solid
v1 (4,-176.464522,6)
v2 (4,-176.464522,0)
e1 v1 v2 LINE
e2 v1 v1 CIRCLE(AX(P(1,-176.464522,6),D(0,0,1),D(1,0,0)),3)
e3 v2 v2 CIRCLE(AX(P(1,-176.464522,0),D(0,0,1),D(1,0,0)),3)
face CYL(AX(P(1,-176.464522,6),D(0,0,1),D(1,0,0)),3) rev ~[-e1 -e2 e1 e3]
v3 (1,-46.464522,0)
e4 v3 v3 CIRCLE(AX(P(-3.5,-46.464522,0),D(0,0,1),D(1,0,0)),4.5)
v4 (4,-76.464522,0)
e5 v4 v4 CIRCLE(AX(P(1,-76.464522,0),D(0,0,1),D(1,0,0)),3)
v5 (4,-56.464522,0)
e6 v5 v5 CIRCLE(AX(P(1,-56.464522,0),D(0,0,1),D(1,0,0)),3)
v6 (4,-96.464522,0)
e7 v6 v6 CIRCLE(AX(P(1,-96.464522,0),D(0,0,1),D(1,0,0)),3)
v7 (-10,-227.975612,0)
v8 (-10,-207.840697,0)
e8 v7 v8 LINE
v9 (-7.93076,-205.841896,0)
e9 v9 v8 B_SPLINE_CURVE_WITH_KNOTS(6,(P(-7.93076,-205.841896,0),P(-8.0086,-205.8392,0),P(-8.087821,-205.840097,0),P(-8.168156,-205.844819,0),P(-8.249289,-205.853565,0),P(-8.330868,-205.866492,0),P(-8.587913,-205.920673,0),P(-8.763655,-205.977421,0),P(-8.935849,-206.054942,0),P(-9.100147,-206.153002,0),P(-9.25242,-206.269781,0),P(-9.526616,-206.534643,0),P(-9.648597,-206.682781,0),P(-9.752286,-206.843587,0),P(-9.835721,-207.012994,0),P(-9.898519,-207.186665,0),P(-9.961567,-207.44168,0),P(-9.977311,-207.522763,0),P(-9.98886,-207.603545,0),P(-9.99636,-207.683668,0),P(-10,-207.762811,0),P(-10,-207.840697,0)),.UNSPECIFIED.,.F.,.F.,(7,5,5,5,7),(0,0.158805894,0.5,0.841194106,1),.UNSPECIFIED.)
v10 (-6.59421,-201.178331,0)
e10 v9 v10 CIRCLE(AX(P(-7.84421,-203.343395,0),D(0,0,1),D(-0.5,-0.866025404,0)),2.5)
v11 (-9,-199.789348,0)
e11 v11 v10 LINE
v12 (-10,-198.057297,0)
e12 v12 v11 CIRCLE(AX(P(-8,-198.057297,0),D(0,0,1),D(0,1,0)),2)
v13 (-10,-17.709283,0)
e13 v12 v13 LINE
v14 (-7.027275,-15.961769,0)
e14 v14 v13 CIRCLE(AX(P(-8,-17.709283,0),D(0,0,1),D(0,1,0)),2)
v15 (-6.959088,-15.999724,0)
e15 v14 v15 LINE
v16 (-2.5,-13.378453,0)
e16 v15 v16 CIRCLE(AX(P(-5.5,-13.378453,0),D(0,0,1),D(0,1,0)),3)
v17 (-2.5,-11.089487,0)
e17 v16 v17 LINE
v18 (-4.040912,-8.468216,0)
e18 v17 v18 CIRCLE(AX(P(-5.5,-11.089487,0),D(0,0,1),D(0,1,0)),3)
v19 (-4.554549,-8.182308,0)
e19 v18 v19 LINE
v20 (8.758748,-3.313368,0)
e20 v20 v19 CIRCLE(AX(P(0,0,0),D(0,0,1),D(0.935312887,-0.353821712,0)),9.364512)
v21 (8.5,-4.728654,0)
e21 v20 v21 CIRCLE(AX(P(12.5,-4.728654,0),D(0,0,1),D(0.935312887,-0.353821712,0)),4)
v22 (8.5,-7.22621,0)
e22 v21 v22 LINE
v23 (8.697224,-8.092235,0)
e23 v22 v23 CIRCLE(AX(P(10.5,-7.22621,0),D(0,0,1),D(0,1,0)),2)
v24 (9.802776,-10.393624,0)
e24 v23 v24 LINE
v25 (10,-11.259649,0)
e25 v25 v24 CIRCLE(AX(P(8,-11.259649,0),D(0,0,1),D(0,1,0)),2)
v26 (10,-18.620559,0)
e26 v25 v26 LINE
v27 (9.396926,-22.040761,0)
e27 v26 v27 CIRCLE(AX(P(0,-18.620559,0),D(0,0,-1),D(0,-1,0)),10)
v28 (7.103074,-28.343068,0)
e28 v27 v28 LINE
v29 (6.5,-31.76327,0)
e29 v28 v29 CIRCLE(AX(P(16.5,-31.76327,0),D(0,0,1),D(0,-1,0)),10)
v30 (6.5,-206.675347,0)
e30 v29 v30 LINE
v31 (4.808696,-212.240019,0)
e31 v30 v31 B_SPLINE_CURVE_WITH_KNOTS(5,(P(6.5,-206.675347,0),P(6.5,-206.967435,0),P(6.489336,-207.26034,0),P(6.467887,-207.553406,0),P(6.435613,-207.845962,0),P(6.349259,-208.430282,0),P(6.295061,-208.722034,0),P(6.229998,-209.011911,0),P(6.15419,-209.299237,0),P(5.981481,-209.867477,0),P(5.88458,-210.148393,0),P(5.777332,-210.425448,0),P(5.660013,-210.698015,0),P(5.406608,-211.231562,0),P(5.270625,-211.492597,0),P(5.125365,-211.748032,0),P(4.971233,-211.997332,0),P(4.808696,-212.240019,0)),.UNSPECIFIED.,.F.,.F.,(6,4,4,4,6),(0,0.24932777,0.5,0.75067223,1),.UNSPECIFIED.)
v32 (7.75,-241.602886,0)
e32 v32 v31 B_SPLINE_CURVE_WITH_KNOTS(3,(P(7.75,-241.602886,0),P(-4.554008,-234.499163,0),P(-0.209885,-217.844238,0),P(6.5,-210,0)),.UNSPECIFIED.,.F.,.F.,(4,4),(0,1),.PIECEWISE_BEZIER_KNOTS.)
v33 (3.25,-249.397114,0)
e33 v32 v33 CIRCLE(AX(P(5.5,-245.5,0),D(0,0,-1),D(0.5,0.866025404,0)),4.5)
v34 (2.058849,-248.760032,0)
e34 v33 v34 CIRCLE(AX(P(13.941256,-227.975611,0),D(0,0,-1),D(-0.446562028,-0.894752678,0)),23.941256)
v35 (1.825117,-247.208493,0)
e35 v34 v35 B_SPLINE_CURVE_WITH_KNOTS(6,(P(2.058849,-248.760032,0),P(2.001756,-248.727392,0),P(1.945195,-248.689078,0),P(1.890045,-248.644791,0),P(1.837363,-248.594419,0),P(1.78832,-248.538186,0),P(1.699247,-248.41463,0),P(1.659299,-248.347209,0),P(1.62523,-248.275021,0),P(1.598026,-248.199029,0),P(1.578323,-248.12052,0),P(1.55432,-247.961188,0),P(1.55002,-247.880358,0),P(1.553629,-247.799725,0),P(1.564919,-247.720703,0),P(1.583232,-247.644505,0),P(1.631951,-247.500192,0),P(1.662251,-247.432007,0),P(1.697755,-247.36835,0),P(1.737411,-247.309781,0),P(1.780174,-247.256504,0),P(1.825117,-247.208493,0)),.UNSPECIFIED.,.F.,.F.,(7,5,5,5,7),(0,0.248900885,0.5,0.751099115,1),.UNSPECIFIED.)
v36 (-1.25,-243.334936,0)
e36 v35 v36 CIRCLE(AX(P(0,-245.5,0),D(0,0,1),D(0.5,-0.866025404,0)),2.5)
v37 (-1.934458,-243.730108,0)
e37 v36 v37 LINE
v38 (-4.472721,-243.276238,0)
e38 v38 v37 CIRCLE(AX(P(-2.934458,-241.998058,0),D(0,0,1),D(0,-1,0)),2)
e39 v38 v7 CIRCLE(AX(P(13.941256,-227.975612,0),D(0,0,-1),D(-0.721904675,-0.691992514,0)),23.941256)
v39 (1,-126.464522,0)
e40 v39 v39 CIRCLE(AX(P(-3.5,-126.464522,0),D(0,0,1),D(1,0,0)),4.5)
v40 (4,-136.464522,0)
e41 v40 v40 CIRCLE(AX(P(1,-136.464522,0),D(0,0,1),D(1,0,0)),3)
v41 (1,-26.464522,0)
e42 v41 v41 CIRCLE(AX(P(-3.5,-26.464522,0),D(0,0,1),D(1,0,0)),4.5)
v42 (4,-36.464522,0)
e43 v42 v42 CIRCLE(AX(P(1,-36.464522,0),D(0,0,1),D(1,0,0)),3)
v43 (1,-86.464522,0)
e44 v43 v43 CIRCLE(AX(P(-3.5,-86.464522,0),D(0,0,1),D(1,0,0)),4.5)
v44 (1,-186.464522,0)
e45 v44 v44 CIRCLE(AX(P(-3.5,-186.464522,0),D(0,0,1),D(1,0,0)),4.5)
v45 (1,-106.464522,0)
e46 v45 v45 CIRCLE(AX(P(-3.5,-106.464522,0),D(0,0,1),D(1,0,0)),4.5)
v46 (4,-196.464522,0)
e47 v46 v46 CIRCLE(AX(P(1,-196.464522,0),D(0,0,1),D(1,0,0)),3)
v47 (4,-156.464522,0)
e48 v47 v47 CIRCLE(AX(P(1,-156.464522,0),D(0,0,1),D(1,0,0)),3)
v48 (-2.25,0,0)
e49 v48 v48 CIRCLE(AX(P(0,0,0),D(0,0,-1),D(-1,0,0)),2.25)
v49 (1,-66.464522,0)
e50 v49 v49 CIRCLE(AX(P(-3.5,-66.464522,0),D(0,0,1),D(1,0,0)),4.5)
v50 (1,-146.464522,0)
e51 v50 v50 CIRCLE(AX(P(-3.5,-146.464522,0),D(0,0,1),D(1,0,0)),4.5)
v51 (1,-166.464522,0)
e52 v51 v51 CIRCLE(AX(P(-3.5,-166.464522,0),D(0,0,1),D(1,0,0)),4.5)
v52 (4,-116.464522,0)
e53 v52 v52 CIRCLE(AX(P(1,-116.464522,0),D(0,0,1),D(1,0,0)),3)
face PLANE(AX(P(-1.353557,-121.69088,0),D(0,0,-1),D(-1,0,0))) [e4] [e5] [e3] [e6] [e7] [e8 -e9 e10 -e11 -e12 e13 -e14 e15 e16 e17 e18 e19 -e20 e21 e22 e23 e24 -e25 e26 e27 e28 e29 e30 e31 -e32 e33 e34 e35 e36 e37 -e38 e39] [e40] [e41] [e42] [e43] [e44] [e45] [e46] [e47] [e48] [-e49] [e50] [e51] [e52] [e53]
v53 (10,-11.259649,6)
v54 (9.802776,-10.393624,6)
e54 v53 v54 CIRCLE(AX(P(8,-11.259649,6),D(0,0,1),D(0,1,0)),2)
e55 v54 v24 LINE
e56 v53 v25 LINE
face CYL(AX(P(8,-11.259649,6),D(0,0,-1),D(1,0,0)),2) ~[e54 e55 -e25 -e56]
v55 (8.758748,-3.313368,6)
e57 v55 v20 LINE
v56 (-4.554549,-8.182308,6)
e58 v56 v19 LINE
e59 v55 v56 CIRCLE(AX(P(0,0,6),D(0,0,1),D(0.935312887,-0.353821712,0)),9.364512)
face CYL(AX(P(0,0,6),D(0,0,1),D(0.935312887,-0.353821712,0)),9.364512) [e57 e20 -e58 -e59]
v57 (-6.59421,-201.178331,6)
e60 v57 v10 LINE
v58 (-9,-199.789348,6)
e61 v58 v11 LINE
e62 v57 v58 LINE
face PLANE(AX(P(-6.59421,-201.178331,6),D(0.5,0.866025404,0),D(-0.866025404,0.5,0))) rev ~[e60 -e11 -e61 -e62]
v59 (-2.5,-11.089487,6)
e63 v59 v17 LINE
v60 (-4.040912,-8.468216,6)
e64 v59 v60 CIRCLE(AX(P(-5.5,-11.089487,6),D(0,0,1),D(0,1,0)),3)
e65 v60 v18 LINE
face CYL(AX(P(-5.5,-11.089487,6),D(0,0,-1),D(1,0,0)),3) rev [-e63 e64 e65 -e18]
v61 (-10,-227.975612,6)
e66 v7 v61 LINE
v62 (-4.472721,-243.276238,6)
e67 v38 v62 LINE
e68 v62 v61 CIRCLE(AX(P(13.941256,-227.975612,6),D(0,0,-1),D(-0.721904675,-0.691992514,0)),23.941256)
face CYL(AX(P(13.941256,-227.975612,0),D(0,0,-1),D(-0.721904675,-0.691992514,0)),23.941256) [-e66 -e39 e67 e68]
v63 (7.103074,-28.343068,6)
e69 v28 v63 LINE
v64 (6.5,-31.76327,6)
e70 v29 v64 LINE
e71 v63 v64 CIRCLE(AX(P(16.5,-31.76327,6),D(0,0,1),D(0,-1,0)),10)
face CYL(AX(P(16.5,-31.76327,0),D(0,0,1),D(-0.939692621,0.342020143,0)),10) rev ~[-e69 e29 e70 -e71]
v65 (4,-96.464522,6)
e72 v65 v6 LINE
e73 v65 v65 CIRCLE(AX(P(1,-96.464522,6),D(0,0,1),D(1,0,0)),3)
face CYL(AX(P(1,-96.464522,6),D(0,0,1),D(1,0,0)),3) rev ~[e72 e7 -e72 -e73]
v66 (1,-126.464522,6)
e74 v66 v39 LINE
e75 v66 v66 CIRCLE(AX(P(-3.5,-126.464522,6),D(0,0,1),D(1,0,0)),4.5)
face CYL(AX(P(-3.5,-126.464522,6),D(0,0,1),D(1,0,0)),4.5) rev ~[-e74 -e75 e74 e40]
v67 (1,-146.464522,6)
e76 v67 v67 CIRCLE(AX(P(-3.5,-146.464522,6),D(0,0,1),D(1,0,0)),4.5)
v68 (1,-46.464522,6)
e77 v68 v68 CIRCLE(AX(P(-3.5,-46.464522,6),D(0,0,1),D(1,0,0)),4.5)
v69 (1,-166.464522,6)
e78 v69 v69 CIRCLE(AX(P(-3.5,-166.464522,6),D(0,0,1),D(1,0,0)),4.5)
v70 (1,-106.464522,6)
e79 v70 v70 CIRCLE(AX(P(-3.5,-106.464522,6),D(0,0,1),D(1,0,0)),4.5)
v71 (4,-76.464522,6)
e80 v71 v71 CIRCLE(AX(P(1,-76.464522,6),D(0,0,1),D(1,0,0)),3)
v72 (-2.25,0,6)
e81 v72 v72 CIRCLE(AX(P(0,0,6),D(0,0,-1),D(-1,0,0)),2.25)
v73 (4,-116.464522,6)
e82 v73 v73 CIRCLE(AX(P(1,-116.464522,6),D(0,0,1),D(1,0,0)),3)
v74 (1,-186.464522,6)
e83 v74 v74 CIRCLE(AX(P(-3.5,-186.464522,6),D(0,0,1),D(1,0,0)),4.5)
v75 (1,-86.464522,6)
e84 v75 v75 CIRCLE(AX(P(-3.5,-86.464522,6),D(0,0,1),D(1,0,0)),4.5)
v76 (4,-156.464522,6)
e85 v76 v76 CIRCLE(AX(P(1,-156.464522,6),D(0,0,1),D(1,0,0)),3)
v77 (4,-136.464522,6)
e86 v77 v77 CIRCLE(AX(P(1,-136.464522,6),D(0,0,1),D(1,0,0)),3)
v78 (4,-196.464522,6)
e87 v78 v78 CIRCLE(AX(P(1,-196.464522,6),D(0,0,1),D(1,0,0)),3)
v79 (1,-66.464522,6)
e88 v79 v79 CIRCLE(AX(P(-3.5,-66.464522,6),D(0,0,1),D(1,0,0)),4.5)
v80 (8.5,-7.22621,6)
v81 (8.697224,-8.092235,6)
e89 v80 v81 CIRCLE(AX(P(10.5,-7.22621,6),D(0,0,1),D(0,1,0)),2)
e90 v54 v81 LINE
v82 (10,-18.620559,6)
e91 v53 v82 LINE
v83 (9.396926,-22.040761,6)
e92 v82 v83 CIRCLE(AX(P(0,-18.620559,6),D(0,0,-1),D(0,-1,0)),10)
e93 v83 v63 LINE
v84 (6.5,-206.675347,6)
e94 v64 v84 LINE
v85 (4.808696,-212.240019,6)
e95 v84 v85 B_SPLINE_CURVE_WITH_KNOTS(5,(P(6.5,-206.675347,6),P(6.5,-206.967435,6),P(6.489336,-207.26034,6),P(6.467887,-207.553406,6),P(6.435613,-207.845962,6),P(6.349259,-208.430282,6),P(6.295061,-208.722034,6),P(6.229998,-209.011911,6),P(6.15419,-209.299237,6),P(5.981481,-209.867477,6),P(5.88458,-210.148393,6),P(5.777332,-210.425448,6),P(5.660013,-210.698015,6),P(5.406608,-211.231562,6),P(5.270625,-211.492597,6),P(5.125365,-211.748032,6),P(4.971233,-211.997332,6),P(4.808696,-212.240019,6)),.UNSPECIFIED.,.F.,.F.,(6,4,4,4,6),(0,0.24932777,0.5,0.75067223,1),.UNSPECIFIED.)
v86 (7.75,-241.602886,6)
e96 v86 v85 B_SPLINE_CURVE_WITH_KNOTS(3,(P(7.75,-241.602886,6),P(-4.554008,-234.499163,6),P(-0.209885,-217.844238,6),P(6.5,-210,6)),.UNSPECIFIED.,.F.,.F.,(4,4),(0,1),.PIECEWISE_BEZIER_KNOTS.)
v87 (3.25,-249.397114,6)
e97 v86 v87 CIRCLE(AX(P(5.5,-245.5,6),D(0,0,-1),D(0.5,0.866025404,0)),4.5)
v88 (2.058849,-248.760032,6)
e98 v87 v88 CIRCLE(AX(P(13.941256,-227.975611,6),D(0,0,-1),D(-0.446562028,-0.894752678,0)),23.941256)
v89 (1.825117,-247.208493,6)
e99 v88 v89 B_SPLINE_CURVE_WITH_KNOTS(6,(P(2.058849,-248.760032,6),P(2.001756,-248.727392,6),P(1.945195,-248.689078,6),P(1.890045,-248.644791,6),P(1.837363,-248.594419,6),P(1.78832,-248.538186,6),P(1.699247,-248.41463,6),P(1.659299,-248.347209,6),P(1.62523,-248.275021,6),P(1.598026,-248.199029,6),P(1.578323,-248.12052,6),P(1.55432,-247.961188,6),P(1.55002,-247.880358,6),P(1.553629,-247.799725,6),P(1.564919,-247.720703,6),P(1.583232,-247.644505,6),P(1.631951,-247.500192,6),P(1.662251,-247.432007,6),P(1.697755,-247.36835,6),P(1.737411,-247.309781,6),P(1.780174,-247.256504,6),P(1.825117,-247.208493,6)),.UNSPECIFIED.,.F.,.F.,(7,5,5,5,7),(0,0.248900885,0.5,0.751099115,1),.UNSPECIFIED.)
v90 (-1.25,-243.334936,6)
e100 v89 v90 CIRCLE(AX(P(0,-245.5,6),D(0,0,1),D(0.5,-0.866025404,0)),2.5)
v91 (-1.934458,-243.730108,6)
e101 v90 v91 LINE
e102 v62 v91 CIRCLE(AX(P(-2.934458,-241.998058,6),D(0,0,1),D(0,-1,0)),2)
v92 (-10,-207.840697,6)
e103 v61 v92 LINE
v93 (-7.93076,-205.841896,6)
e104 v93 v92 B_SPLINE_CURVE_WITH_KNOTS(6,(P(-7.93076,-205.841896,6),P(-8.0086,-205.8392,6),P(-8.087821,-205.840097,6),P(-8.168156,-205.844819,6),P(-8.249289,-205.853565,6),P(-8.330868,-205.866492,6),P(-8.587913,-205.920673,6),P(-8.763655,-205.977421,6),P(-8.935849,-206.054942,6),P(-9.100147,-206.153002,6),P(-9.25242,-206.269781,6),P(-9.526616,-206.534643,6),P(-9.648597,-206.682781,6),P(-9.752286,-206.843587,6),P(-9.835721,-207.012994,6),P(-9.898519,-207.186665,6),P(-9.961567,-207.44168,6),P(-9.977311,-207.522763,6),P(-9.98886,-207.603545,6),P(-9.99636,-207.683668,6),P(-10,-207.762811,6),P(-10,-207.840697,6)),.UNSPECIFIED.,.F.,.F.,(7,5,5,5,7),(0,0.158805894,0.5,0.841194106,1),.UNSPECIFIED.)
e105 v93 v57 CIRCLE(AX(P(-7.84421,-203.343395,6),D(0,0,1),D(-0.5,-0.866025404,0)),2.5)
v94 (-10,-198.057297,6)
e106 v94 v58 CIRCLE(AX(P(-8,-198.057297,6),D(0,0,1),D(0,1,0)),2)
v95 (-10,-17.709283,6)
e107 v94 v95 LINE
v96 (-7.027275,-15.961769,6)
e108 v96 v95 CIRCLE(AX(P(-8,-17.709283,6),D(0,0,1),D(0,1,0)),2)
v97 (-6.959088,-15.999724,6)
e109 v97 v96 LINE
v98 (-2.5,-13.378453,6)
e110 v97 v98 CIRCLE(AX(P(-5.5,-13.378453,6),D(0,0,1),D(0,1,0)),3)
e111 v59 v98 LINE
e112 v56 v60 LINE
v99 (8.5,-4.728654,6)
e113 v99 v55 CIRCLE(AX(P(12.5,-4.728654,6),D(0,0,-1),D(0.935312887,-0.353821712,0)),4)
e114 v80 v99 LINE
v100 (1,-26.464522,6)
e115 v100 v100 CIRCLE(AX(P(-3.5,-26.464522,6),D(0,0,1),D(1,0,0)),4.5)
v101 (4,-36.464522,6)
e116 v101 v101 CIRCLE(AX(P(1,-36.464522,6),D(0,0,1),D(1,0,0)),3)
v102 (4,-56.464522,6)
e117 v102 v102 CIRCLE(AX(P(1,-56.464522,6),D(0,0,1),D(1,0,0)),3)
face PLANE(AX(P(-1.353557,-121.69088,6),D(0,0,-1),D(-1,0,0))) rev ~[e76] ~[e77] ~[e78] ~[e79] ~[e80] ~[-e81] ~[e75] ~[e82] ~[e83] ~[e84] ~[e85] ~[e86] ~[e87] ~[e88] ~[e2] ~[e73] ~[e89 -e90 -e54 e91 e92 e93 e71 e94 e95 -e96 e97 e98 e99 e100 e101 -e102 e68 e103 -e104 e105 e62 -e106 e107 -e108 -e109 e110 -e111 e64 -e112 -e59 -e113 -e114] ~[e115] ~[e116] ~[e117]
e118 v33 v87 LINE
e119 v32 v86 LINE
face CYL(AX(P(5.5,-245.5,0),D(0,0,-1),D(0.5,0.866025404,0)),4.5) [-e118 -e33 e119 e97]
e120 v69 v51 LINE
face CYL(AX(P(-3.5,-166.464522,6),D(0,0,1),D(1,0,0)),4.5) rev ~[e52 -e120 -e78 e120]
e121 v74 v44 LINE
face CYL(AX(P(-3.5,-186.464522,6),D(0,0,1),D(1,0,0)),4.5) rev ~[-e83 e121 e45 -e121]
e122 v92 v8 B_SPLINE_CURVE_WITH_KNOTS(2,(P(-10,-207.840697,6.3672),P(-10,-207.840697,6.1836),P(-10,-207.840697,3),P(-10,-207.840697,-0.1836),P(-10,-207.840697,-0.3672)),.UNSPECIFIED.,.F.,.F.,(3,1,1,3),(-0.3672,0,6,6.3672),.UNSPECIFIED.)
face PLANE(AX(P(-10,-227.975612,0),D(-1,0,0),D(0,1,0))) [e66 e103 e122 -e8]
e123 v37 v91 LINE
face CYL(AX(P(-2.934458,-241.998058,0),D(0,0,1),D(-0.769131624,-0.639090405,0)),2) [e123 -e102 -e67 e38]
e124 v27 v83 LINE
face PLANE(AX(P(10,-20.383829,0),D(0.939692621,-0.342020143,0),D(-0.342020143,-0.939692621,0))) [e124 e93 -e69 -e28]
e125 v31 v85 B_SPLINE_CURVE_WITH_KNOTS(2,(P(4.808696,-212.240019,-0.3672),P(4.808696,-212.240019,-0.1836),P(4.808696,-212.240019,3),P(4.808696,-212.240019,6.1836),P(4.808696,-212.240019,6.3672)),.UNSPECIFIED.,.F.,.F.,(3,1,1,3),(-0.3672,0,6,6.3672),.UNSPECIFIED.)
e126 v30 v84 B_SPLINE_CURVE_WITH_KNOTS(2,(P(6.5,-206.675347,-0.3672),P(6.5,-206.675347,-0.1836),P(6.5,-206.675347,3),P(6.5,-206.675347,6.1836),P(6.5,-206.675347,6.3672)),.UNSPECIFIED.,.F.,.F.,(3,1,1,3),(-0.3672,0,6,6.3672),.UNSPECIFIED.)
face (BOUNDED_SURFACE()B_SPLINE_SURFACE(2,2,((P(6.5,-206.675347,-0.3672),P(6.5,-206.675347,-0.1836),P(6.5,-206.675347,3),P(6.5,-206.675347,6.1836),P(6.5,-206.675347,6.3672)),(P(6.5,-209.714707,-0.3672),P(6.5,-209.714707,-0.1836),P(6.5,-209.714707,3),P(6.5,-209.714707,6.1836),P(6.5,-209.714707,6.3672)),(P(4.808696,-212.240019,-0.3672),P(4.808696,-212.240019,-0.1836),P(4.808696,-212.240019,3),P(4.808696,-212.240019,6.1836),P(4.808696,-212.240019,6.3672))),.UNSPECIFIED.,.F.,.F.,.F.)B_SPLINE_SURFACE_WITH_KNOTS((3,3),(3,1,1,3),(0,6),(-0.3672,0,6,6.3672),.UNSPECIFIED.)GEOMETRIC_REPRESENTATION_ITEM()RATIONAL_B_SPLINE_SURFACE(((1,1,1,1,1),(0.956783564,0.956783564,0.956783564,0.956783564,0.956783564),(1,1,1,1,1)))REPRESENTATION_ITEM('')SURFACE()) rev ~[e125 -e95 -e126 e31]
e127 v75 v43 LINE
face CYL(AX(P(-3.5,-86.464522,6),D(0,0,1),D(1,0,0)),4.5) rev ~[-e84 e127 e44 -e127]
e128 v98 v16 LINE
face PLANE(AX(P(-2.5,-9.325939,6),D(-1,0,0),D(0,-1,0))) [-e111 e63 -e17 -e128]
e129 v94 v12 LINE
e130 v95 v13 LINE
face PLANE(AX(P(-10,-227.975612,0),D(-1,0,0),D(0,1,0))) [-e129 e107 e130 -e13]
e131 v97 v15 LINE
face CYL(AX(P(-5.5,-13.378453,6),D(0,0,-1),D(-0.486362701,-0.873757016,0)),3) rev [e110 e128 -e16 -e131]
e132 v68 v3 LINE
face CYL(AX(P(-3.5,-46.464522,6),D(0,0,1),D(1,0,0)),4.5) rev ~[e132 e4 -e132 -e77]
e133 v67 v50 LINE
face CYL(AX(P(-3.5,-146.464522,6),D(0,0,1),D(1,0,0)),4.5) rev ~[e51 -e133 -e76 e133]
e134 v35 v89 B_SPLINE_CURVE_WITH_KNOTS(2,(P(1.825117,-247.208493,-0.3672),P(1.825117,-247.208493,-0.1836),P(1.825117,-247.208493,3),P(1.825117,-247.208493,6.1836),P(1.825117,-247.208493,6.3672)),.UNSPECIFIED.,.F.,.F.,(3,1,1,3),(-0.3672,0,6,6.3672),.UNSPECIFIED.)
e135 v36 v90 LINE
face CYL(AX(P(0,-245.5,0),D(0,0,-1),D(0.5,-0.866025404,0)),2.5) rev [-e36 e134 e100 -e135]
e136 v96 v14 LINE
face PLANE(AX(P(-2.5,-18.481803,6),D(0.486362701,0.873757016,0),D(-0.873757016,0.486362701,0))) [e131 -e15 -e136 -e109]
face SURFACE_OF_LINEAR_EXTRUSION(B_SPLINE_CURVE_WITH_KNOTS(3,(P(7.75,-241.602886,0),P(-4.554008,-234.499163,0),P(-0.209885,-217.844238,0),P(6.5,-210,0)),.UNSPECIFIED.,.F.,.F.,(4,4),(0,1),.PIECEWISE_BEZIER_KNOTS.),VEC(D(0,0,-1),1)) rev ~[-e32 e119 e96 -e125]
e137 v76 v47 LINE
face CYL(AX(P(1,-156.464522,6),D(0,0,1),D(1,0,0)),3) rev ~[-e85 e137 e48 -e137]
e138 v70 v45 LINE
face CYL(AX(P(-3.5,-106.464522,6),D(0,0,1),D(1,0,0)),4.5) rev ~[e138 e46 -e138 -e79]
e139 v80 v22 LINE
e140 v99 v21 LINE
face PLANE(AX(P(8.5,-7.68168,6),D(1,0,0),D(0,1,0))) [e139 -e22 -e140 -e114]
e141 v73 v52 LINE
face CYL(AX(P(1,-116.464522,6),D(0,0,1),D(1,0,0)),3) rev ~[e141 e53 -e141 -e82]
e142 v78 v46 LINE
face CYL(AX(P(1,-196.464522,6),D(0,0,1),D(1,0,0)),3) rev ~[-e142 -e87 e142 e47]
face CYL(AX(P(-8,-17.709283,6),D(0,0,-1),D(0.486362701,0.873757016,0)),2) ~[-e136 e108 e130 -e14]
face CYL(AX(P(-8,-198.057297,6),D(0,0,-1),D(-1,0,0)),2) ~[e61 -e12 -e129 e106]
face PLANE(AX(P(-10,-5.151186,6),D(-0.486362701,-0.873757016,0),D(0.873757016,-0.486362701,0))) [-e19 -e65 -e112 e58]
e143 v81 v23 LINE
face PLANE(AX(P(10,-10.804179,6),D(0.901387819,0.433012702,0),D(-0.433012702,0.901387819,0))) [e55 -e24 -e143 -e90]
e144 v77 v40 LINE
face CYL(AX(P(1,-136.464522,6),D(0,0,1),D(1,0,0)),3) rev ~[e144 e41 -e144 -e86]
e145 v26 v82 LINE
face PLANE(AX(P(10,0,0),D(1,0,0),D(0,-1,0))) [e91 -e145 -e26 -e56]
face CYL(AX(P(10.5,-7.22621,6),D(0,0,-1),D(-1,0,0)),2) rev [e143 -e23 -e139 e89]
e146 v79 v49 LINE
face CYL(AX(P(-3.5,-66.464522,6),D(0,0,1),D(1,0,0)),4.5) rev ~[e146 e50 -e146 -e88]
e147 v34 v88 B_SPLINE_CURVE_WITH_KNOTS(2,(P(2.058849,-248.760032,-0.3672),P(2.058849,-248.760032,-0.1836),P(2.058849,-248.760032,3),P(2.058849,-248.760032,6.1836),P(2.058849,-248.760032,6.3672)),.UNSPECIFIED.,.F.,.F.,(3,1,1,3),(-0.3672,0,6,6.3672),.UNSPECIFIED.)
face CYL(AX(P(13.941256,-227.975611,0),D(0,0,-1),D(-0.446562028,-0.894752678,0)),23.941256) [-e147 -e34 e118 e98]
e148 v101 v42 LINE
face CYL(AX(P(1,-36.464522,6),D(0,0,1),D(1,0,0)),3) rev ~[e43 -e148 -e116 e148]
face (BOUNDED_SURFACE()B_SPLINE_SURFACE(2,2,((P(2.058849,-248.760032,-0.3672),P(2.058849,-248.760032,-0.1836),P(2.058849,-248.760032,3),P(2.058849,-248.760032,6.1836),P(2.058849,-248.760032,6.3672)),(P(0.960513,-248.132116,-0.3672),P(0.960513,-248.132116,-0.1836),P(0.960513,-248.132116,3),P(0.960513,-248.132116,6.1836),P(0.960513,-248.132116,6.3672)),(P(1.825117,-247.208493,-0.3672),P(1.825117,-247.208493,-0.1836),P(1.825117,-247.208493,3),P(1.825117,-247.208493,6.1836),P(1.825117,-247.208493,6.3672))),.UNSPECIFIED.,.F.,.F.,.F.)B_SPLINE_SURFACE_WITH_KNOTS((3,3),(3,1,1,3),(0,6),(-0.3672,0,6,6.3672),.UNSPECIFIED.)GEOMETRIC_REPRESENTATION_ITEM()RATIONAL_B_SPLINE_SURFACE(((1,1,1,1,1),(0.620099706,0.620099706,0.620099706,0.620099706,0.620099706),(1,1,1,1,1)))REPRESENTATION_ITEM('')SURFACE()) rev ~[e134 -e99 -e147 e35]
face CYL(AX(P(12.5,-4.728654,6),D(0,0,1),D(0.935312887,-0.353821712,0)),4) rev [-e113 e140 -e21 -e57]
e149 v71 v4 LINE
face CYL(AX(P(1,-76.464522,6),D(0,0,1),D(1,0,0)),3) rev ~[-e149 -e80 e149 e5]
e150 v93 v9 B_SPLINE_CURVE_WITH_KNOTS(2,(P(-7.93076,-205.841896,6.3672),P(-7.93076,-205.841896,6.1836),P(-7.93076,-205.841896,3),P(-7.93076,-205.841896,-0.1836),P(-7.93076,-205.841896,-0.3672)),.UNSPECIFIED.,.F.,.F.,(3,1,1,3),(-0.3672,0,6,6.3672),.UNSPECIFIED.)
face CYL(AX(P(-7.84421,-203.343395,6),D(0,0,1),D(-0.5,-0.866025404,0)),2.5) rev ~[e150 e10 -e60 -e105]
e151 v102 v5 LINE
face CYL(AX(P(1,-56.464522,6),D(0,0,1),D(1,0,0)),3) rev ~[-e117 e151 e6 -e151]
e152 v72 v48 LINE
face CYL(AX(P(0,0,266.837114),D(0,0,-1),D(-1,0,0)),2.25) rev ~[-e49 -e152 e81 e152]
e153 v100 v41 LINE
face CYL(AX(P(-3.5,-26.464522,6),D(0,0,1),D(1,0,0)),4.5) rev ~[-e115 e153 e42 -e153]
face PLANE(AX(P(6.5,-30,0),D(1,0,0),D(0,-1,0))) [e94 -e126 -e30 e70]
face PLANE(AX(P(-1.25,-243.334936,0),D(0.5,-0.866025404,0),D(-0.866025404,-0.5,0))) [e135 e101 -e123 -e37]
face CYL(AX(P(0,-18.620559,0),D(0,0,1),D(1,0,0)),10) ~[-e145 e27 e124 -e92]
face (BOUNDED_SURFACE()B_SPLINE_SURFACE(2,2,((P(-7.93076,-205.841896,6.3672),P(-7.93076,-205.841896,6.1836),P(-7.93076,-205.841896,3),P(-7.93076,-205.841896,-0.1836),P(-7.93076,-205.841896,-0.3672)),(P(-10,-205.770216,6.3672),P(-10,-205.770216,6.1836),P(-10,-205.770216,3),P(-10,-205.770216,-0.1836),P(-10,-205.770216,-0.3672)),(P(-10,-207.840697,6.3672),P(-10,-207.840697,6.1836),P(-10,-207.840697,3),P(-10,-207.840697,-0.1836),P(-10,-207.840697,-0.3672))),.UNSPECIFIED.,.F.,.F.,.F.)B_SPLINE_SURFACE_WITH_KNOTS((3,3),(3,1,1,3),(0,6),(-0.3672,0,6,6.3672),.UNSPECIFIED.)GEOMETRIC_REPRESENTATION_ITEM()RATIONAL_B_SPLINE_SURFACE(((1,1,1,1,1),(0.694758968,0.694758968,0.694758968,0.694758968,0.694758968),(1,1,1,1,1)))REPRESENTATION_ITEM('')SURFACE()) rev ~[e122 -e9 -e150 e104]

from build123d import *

# Parameters (mm, degrees)
EXTRUDE_1_DEPTH     = 6
CUT_EXTRUDE_1_DEPTH = 7.0000001
HOLE_WIZARD_M41_D   = 4.5
CUT_EXTRUDE_2_DEPTH = 7.0000001
SKETCH_9_R          = 3
SKETCH_9_R_2        = 4.5
CUT_EXTRUDE_4_DEPTH = 7.0000001
CUT_EXTRUDE_6_DEPTH = 7.0000001
FILLET_4_R          = 2
FILLET_5_R          = 10
FILLET_6_R          = 1
FILLET_7_R          = 3


with BuildPart() as part:
    # Эскиз1 → Бобышка-Вытянуть1 (new body)
    with BuildSketch(Plane.XY):
        with BuildLine():
            Line((6.5, -30), (6.5, -210))
            add(Edge.make_bspline(
                [(7.75, -241.602885683), (-4.554007881, -234.499163421), (-0.209884915, -217.844238119), (6.5, -210)],
                knots=[0, 0, 0, 0, 1, 1, 1, 1], degree=3))
            ThreePointArc((7.75, -241.602885683), (9.397114317, -247.75), (3.25, -249.397114317))
            ThreePointArc((3.25, -249.397114317), (1.977735046, -248.713449013), (0.749010369, -247.954310008))
            Line((0.749010369, -247.954310008), (1.25, -247.665063509))
            ThreePointArc((1.25, -247.665063509), (2.165063509, -244.25), (-1.25, -243.334936491))
            Line((-1.25, -243.334936491), (-3.342048726, -244.542781386))
            ThreePointArc((-3.342048726, -244.542781386), (-8.273241088, -236.903089302), (-10, -227.975611669))
            Line((-10, -227.975611669), (-10, 0))
            ThreePointArc((-10, 0), (0, 10), (10, 0))
            Line((10, 0), (10, -20.383829032))
            Line((10, -20.383829032), (6.5, -30))
        make_face()
    extrude(amount=EXTRUDE_1_DEPTH)

    # Эскиз2 → Вырез-Вытянуть1 (cut, through all)
    with BuildSketch(Plane.XY.offset(6)):
        with BuildLine():
            Line((-6.59421021, -201.178331294), (-10, -199.211997642))
            Line((-10, -199.211997642), (-10, -204.985500334))
            Line((-10, -204.985500334), (-9.09421021, -205.508458313))
            ThreePointArc((-9.09421021, -205.508458313), (-5.6791467, -204.593394804), (-6.59421021, -201.178331294))
        make_face()
    extrude(amount=-CUT_EXTRUDE_1_DEPTH, mode=Mode.SUBTRACT)

    # Отверстие с зазором M41 (through all)
    with Locations(Plane.XY.offset(6)):
        with Locations((0, 0)):
            Hole(HOLE_WIZARD_M41_D / 2)

    # Эскиз6 → Вырез-Вытянуть2 (cut, through all)
    with BuildSketch(Plane.XY.offset(6)):
        with BuildLine():
            ThreePointArc((8.758748453, -3.313367558), (-3.216437094, 8.794805936), (-4.554549196, -8.182307784))
            ThreePointArc((-4.554549196, -8.182307784), (-3.004971936, -13.622786652), (-8.445450804, -15.172363912))
            ThreePointArc((-8.445450804, -15.172363912), (-5.964204156, 16.308112544), (16.241251547, -6.143941255))
            ThreePointArc((16.241251547, -6.143941255), (11.084713151, -8.469905953), (8.758748453, -3.313367558))
        make_face()
    extrude(amount=-CUT_EXTRUDE_2_DEPTH, mode=Mode.SUBTRACT)

    # Эскиз9 → Вырез-Вытянуть4 (cut, through all)
    with BuildSketch(Plane.XY.offset(6)):
        with Locations((1, -36.464522083)):
            Circle(SKETCH_9_R)
        with Locations((1, -56.464522083)):
            Circle(SKETCH_9_R)
        with Locations((1, -76.464522083)):
            Circle(SKETCH_9_R)
        with Locations((1, -96.464522083)):
            Circle(SKETCH_9_R)
        with Locations((1, -116.464522083)):
            Circle(SKETCH_9_R)
        with Locations((1, -136.464522083)):
            Circle(SKETCH_9_R)
        with Locations((1, -156.464522083)):
            Circle(SKETCH_9_R)
        with Locations((1, -176.464522083)):
            Circle(SKETCH_9_R)
        with Locations((1, -196.464522083)):
            Circle(SKETCH_9_R)
        with Locations((-3.5, -26.464522083)):
            Circle(SKETCH_9_R_2)
        with Locations((-3.5, -46.464522083)):
            Circle(SKETCH_9_R_2)
        with Locations((-3.5, -66.464522083)):
            Circle(SKETCH_9_R_2)
        with Locations((-3.5, -86.464522083)):
            Circle(SKETCH_9_R_2)
        with Locations((-3.5, -106.464522083)):
            Circle(SKETCH_9_R_2)
        with Locations((-3.5, -126.464522083)):
            Circle(SKETCH_9_R_2)
        with Locations((-3.5, -146.464522083)):
            Circle(SKETCH_9_R_2)
        with Locations((-3.5, -166.464522083)):
            Circle(SKETCH_9_R_2)
        with Locations((-3.5, -186.464522083)):
            Circle(SKETCH_9_R_2)
    extrude(amount=-CUT_EXTRUDE_4_DEPTH, mode=Mode.SUBTRACT)

    # Эскиз11 → Вырез-Вытянуть6 (cut, through all)
    with BuildSketch(Plane.XY.offset(6)):
        Polygon((-2.5, -9.32593934), (-2.5, -18.481802874), (-10, -14.307049262), (-10, -5.151185729), align=None)
        Polygon((10, -7.851153406), (10, -10.804179155), (8.5, -7.681680155), (8.5, -4.728654406), align=None)
    extrude(amount=-CUT_EXTRUDE_6_DEPTH, mode=Mode.SUBTRACT)

    # Скругление4
    fillet_4_edges = [part.edges().sort_by_distance(p)[0] for p in [
        (-3.342048726, -244.542781386, 3),
        (-10, -204.985500334, 3),
        (-10, -199.211997642, 3),
        (8.5, -7.681680155, 3),
        (-10, -14.307049262, 3),
        (10, -10.804179155, 3),
    ]]
    fillet(fillet_4_edges, radius=FILLET_4_R)

    # Скругление5
    fillet_5_edges = [part.edges().sort_by_distance(p)[0] for p in [
        (6.5, -30, 3),
        (6.5, -210, 3),
        (10, -20.383829032, 3),
    ]]
    fillet(fillet_5_edges, radius=FILLET_5_R)

    # Скругление6
    fillet_6_edges = [part.edges().sort_by_distance(p)[0] for p in [
        (0.749010369, -247.954310008, 3),
    ]]
    fillet(fillet_6_edges, radius=FILLET_6_R)

    # Скругление7
    fillet_7_edges = [part.edges().sort_by_distance(p)[0] for p in [
        (-2.5, -9.32593934, 3),
        (-2.5, -18.481802874, 3),
    ]]
    fillet(fillet_7_edges, radius=FILLET_7_R)


solid = part.part
